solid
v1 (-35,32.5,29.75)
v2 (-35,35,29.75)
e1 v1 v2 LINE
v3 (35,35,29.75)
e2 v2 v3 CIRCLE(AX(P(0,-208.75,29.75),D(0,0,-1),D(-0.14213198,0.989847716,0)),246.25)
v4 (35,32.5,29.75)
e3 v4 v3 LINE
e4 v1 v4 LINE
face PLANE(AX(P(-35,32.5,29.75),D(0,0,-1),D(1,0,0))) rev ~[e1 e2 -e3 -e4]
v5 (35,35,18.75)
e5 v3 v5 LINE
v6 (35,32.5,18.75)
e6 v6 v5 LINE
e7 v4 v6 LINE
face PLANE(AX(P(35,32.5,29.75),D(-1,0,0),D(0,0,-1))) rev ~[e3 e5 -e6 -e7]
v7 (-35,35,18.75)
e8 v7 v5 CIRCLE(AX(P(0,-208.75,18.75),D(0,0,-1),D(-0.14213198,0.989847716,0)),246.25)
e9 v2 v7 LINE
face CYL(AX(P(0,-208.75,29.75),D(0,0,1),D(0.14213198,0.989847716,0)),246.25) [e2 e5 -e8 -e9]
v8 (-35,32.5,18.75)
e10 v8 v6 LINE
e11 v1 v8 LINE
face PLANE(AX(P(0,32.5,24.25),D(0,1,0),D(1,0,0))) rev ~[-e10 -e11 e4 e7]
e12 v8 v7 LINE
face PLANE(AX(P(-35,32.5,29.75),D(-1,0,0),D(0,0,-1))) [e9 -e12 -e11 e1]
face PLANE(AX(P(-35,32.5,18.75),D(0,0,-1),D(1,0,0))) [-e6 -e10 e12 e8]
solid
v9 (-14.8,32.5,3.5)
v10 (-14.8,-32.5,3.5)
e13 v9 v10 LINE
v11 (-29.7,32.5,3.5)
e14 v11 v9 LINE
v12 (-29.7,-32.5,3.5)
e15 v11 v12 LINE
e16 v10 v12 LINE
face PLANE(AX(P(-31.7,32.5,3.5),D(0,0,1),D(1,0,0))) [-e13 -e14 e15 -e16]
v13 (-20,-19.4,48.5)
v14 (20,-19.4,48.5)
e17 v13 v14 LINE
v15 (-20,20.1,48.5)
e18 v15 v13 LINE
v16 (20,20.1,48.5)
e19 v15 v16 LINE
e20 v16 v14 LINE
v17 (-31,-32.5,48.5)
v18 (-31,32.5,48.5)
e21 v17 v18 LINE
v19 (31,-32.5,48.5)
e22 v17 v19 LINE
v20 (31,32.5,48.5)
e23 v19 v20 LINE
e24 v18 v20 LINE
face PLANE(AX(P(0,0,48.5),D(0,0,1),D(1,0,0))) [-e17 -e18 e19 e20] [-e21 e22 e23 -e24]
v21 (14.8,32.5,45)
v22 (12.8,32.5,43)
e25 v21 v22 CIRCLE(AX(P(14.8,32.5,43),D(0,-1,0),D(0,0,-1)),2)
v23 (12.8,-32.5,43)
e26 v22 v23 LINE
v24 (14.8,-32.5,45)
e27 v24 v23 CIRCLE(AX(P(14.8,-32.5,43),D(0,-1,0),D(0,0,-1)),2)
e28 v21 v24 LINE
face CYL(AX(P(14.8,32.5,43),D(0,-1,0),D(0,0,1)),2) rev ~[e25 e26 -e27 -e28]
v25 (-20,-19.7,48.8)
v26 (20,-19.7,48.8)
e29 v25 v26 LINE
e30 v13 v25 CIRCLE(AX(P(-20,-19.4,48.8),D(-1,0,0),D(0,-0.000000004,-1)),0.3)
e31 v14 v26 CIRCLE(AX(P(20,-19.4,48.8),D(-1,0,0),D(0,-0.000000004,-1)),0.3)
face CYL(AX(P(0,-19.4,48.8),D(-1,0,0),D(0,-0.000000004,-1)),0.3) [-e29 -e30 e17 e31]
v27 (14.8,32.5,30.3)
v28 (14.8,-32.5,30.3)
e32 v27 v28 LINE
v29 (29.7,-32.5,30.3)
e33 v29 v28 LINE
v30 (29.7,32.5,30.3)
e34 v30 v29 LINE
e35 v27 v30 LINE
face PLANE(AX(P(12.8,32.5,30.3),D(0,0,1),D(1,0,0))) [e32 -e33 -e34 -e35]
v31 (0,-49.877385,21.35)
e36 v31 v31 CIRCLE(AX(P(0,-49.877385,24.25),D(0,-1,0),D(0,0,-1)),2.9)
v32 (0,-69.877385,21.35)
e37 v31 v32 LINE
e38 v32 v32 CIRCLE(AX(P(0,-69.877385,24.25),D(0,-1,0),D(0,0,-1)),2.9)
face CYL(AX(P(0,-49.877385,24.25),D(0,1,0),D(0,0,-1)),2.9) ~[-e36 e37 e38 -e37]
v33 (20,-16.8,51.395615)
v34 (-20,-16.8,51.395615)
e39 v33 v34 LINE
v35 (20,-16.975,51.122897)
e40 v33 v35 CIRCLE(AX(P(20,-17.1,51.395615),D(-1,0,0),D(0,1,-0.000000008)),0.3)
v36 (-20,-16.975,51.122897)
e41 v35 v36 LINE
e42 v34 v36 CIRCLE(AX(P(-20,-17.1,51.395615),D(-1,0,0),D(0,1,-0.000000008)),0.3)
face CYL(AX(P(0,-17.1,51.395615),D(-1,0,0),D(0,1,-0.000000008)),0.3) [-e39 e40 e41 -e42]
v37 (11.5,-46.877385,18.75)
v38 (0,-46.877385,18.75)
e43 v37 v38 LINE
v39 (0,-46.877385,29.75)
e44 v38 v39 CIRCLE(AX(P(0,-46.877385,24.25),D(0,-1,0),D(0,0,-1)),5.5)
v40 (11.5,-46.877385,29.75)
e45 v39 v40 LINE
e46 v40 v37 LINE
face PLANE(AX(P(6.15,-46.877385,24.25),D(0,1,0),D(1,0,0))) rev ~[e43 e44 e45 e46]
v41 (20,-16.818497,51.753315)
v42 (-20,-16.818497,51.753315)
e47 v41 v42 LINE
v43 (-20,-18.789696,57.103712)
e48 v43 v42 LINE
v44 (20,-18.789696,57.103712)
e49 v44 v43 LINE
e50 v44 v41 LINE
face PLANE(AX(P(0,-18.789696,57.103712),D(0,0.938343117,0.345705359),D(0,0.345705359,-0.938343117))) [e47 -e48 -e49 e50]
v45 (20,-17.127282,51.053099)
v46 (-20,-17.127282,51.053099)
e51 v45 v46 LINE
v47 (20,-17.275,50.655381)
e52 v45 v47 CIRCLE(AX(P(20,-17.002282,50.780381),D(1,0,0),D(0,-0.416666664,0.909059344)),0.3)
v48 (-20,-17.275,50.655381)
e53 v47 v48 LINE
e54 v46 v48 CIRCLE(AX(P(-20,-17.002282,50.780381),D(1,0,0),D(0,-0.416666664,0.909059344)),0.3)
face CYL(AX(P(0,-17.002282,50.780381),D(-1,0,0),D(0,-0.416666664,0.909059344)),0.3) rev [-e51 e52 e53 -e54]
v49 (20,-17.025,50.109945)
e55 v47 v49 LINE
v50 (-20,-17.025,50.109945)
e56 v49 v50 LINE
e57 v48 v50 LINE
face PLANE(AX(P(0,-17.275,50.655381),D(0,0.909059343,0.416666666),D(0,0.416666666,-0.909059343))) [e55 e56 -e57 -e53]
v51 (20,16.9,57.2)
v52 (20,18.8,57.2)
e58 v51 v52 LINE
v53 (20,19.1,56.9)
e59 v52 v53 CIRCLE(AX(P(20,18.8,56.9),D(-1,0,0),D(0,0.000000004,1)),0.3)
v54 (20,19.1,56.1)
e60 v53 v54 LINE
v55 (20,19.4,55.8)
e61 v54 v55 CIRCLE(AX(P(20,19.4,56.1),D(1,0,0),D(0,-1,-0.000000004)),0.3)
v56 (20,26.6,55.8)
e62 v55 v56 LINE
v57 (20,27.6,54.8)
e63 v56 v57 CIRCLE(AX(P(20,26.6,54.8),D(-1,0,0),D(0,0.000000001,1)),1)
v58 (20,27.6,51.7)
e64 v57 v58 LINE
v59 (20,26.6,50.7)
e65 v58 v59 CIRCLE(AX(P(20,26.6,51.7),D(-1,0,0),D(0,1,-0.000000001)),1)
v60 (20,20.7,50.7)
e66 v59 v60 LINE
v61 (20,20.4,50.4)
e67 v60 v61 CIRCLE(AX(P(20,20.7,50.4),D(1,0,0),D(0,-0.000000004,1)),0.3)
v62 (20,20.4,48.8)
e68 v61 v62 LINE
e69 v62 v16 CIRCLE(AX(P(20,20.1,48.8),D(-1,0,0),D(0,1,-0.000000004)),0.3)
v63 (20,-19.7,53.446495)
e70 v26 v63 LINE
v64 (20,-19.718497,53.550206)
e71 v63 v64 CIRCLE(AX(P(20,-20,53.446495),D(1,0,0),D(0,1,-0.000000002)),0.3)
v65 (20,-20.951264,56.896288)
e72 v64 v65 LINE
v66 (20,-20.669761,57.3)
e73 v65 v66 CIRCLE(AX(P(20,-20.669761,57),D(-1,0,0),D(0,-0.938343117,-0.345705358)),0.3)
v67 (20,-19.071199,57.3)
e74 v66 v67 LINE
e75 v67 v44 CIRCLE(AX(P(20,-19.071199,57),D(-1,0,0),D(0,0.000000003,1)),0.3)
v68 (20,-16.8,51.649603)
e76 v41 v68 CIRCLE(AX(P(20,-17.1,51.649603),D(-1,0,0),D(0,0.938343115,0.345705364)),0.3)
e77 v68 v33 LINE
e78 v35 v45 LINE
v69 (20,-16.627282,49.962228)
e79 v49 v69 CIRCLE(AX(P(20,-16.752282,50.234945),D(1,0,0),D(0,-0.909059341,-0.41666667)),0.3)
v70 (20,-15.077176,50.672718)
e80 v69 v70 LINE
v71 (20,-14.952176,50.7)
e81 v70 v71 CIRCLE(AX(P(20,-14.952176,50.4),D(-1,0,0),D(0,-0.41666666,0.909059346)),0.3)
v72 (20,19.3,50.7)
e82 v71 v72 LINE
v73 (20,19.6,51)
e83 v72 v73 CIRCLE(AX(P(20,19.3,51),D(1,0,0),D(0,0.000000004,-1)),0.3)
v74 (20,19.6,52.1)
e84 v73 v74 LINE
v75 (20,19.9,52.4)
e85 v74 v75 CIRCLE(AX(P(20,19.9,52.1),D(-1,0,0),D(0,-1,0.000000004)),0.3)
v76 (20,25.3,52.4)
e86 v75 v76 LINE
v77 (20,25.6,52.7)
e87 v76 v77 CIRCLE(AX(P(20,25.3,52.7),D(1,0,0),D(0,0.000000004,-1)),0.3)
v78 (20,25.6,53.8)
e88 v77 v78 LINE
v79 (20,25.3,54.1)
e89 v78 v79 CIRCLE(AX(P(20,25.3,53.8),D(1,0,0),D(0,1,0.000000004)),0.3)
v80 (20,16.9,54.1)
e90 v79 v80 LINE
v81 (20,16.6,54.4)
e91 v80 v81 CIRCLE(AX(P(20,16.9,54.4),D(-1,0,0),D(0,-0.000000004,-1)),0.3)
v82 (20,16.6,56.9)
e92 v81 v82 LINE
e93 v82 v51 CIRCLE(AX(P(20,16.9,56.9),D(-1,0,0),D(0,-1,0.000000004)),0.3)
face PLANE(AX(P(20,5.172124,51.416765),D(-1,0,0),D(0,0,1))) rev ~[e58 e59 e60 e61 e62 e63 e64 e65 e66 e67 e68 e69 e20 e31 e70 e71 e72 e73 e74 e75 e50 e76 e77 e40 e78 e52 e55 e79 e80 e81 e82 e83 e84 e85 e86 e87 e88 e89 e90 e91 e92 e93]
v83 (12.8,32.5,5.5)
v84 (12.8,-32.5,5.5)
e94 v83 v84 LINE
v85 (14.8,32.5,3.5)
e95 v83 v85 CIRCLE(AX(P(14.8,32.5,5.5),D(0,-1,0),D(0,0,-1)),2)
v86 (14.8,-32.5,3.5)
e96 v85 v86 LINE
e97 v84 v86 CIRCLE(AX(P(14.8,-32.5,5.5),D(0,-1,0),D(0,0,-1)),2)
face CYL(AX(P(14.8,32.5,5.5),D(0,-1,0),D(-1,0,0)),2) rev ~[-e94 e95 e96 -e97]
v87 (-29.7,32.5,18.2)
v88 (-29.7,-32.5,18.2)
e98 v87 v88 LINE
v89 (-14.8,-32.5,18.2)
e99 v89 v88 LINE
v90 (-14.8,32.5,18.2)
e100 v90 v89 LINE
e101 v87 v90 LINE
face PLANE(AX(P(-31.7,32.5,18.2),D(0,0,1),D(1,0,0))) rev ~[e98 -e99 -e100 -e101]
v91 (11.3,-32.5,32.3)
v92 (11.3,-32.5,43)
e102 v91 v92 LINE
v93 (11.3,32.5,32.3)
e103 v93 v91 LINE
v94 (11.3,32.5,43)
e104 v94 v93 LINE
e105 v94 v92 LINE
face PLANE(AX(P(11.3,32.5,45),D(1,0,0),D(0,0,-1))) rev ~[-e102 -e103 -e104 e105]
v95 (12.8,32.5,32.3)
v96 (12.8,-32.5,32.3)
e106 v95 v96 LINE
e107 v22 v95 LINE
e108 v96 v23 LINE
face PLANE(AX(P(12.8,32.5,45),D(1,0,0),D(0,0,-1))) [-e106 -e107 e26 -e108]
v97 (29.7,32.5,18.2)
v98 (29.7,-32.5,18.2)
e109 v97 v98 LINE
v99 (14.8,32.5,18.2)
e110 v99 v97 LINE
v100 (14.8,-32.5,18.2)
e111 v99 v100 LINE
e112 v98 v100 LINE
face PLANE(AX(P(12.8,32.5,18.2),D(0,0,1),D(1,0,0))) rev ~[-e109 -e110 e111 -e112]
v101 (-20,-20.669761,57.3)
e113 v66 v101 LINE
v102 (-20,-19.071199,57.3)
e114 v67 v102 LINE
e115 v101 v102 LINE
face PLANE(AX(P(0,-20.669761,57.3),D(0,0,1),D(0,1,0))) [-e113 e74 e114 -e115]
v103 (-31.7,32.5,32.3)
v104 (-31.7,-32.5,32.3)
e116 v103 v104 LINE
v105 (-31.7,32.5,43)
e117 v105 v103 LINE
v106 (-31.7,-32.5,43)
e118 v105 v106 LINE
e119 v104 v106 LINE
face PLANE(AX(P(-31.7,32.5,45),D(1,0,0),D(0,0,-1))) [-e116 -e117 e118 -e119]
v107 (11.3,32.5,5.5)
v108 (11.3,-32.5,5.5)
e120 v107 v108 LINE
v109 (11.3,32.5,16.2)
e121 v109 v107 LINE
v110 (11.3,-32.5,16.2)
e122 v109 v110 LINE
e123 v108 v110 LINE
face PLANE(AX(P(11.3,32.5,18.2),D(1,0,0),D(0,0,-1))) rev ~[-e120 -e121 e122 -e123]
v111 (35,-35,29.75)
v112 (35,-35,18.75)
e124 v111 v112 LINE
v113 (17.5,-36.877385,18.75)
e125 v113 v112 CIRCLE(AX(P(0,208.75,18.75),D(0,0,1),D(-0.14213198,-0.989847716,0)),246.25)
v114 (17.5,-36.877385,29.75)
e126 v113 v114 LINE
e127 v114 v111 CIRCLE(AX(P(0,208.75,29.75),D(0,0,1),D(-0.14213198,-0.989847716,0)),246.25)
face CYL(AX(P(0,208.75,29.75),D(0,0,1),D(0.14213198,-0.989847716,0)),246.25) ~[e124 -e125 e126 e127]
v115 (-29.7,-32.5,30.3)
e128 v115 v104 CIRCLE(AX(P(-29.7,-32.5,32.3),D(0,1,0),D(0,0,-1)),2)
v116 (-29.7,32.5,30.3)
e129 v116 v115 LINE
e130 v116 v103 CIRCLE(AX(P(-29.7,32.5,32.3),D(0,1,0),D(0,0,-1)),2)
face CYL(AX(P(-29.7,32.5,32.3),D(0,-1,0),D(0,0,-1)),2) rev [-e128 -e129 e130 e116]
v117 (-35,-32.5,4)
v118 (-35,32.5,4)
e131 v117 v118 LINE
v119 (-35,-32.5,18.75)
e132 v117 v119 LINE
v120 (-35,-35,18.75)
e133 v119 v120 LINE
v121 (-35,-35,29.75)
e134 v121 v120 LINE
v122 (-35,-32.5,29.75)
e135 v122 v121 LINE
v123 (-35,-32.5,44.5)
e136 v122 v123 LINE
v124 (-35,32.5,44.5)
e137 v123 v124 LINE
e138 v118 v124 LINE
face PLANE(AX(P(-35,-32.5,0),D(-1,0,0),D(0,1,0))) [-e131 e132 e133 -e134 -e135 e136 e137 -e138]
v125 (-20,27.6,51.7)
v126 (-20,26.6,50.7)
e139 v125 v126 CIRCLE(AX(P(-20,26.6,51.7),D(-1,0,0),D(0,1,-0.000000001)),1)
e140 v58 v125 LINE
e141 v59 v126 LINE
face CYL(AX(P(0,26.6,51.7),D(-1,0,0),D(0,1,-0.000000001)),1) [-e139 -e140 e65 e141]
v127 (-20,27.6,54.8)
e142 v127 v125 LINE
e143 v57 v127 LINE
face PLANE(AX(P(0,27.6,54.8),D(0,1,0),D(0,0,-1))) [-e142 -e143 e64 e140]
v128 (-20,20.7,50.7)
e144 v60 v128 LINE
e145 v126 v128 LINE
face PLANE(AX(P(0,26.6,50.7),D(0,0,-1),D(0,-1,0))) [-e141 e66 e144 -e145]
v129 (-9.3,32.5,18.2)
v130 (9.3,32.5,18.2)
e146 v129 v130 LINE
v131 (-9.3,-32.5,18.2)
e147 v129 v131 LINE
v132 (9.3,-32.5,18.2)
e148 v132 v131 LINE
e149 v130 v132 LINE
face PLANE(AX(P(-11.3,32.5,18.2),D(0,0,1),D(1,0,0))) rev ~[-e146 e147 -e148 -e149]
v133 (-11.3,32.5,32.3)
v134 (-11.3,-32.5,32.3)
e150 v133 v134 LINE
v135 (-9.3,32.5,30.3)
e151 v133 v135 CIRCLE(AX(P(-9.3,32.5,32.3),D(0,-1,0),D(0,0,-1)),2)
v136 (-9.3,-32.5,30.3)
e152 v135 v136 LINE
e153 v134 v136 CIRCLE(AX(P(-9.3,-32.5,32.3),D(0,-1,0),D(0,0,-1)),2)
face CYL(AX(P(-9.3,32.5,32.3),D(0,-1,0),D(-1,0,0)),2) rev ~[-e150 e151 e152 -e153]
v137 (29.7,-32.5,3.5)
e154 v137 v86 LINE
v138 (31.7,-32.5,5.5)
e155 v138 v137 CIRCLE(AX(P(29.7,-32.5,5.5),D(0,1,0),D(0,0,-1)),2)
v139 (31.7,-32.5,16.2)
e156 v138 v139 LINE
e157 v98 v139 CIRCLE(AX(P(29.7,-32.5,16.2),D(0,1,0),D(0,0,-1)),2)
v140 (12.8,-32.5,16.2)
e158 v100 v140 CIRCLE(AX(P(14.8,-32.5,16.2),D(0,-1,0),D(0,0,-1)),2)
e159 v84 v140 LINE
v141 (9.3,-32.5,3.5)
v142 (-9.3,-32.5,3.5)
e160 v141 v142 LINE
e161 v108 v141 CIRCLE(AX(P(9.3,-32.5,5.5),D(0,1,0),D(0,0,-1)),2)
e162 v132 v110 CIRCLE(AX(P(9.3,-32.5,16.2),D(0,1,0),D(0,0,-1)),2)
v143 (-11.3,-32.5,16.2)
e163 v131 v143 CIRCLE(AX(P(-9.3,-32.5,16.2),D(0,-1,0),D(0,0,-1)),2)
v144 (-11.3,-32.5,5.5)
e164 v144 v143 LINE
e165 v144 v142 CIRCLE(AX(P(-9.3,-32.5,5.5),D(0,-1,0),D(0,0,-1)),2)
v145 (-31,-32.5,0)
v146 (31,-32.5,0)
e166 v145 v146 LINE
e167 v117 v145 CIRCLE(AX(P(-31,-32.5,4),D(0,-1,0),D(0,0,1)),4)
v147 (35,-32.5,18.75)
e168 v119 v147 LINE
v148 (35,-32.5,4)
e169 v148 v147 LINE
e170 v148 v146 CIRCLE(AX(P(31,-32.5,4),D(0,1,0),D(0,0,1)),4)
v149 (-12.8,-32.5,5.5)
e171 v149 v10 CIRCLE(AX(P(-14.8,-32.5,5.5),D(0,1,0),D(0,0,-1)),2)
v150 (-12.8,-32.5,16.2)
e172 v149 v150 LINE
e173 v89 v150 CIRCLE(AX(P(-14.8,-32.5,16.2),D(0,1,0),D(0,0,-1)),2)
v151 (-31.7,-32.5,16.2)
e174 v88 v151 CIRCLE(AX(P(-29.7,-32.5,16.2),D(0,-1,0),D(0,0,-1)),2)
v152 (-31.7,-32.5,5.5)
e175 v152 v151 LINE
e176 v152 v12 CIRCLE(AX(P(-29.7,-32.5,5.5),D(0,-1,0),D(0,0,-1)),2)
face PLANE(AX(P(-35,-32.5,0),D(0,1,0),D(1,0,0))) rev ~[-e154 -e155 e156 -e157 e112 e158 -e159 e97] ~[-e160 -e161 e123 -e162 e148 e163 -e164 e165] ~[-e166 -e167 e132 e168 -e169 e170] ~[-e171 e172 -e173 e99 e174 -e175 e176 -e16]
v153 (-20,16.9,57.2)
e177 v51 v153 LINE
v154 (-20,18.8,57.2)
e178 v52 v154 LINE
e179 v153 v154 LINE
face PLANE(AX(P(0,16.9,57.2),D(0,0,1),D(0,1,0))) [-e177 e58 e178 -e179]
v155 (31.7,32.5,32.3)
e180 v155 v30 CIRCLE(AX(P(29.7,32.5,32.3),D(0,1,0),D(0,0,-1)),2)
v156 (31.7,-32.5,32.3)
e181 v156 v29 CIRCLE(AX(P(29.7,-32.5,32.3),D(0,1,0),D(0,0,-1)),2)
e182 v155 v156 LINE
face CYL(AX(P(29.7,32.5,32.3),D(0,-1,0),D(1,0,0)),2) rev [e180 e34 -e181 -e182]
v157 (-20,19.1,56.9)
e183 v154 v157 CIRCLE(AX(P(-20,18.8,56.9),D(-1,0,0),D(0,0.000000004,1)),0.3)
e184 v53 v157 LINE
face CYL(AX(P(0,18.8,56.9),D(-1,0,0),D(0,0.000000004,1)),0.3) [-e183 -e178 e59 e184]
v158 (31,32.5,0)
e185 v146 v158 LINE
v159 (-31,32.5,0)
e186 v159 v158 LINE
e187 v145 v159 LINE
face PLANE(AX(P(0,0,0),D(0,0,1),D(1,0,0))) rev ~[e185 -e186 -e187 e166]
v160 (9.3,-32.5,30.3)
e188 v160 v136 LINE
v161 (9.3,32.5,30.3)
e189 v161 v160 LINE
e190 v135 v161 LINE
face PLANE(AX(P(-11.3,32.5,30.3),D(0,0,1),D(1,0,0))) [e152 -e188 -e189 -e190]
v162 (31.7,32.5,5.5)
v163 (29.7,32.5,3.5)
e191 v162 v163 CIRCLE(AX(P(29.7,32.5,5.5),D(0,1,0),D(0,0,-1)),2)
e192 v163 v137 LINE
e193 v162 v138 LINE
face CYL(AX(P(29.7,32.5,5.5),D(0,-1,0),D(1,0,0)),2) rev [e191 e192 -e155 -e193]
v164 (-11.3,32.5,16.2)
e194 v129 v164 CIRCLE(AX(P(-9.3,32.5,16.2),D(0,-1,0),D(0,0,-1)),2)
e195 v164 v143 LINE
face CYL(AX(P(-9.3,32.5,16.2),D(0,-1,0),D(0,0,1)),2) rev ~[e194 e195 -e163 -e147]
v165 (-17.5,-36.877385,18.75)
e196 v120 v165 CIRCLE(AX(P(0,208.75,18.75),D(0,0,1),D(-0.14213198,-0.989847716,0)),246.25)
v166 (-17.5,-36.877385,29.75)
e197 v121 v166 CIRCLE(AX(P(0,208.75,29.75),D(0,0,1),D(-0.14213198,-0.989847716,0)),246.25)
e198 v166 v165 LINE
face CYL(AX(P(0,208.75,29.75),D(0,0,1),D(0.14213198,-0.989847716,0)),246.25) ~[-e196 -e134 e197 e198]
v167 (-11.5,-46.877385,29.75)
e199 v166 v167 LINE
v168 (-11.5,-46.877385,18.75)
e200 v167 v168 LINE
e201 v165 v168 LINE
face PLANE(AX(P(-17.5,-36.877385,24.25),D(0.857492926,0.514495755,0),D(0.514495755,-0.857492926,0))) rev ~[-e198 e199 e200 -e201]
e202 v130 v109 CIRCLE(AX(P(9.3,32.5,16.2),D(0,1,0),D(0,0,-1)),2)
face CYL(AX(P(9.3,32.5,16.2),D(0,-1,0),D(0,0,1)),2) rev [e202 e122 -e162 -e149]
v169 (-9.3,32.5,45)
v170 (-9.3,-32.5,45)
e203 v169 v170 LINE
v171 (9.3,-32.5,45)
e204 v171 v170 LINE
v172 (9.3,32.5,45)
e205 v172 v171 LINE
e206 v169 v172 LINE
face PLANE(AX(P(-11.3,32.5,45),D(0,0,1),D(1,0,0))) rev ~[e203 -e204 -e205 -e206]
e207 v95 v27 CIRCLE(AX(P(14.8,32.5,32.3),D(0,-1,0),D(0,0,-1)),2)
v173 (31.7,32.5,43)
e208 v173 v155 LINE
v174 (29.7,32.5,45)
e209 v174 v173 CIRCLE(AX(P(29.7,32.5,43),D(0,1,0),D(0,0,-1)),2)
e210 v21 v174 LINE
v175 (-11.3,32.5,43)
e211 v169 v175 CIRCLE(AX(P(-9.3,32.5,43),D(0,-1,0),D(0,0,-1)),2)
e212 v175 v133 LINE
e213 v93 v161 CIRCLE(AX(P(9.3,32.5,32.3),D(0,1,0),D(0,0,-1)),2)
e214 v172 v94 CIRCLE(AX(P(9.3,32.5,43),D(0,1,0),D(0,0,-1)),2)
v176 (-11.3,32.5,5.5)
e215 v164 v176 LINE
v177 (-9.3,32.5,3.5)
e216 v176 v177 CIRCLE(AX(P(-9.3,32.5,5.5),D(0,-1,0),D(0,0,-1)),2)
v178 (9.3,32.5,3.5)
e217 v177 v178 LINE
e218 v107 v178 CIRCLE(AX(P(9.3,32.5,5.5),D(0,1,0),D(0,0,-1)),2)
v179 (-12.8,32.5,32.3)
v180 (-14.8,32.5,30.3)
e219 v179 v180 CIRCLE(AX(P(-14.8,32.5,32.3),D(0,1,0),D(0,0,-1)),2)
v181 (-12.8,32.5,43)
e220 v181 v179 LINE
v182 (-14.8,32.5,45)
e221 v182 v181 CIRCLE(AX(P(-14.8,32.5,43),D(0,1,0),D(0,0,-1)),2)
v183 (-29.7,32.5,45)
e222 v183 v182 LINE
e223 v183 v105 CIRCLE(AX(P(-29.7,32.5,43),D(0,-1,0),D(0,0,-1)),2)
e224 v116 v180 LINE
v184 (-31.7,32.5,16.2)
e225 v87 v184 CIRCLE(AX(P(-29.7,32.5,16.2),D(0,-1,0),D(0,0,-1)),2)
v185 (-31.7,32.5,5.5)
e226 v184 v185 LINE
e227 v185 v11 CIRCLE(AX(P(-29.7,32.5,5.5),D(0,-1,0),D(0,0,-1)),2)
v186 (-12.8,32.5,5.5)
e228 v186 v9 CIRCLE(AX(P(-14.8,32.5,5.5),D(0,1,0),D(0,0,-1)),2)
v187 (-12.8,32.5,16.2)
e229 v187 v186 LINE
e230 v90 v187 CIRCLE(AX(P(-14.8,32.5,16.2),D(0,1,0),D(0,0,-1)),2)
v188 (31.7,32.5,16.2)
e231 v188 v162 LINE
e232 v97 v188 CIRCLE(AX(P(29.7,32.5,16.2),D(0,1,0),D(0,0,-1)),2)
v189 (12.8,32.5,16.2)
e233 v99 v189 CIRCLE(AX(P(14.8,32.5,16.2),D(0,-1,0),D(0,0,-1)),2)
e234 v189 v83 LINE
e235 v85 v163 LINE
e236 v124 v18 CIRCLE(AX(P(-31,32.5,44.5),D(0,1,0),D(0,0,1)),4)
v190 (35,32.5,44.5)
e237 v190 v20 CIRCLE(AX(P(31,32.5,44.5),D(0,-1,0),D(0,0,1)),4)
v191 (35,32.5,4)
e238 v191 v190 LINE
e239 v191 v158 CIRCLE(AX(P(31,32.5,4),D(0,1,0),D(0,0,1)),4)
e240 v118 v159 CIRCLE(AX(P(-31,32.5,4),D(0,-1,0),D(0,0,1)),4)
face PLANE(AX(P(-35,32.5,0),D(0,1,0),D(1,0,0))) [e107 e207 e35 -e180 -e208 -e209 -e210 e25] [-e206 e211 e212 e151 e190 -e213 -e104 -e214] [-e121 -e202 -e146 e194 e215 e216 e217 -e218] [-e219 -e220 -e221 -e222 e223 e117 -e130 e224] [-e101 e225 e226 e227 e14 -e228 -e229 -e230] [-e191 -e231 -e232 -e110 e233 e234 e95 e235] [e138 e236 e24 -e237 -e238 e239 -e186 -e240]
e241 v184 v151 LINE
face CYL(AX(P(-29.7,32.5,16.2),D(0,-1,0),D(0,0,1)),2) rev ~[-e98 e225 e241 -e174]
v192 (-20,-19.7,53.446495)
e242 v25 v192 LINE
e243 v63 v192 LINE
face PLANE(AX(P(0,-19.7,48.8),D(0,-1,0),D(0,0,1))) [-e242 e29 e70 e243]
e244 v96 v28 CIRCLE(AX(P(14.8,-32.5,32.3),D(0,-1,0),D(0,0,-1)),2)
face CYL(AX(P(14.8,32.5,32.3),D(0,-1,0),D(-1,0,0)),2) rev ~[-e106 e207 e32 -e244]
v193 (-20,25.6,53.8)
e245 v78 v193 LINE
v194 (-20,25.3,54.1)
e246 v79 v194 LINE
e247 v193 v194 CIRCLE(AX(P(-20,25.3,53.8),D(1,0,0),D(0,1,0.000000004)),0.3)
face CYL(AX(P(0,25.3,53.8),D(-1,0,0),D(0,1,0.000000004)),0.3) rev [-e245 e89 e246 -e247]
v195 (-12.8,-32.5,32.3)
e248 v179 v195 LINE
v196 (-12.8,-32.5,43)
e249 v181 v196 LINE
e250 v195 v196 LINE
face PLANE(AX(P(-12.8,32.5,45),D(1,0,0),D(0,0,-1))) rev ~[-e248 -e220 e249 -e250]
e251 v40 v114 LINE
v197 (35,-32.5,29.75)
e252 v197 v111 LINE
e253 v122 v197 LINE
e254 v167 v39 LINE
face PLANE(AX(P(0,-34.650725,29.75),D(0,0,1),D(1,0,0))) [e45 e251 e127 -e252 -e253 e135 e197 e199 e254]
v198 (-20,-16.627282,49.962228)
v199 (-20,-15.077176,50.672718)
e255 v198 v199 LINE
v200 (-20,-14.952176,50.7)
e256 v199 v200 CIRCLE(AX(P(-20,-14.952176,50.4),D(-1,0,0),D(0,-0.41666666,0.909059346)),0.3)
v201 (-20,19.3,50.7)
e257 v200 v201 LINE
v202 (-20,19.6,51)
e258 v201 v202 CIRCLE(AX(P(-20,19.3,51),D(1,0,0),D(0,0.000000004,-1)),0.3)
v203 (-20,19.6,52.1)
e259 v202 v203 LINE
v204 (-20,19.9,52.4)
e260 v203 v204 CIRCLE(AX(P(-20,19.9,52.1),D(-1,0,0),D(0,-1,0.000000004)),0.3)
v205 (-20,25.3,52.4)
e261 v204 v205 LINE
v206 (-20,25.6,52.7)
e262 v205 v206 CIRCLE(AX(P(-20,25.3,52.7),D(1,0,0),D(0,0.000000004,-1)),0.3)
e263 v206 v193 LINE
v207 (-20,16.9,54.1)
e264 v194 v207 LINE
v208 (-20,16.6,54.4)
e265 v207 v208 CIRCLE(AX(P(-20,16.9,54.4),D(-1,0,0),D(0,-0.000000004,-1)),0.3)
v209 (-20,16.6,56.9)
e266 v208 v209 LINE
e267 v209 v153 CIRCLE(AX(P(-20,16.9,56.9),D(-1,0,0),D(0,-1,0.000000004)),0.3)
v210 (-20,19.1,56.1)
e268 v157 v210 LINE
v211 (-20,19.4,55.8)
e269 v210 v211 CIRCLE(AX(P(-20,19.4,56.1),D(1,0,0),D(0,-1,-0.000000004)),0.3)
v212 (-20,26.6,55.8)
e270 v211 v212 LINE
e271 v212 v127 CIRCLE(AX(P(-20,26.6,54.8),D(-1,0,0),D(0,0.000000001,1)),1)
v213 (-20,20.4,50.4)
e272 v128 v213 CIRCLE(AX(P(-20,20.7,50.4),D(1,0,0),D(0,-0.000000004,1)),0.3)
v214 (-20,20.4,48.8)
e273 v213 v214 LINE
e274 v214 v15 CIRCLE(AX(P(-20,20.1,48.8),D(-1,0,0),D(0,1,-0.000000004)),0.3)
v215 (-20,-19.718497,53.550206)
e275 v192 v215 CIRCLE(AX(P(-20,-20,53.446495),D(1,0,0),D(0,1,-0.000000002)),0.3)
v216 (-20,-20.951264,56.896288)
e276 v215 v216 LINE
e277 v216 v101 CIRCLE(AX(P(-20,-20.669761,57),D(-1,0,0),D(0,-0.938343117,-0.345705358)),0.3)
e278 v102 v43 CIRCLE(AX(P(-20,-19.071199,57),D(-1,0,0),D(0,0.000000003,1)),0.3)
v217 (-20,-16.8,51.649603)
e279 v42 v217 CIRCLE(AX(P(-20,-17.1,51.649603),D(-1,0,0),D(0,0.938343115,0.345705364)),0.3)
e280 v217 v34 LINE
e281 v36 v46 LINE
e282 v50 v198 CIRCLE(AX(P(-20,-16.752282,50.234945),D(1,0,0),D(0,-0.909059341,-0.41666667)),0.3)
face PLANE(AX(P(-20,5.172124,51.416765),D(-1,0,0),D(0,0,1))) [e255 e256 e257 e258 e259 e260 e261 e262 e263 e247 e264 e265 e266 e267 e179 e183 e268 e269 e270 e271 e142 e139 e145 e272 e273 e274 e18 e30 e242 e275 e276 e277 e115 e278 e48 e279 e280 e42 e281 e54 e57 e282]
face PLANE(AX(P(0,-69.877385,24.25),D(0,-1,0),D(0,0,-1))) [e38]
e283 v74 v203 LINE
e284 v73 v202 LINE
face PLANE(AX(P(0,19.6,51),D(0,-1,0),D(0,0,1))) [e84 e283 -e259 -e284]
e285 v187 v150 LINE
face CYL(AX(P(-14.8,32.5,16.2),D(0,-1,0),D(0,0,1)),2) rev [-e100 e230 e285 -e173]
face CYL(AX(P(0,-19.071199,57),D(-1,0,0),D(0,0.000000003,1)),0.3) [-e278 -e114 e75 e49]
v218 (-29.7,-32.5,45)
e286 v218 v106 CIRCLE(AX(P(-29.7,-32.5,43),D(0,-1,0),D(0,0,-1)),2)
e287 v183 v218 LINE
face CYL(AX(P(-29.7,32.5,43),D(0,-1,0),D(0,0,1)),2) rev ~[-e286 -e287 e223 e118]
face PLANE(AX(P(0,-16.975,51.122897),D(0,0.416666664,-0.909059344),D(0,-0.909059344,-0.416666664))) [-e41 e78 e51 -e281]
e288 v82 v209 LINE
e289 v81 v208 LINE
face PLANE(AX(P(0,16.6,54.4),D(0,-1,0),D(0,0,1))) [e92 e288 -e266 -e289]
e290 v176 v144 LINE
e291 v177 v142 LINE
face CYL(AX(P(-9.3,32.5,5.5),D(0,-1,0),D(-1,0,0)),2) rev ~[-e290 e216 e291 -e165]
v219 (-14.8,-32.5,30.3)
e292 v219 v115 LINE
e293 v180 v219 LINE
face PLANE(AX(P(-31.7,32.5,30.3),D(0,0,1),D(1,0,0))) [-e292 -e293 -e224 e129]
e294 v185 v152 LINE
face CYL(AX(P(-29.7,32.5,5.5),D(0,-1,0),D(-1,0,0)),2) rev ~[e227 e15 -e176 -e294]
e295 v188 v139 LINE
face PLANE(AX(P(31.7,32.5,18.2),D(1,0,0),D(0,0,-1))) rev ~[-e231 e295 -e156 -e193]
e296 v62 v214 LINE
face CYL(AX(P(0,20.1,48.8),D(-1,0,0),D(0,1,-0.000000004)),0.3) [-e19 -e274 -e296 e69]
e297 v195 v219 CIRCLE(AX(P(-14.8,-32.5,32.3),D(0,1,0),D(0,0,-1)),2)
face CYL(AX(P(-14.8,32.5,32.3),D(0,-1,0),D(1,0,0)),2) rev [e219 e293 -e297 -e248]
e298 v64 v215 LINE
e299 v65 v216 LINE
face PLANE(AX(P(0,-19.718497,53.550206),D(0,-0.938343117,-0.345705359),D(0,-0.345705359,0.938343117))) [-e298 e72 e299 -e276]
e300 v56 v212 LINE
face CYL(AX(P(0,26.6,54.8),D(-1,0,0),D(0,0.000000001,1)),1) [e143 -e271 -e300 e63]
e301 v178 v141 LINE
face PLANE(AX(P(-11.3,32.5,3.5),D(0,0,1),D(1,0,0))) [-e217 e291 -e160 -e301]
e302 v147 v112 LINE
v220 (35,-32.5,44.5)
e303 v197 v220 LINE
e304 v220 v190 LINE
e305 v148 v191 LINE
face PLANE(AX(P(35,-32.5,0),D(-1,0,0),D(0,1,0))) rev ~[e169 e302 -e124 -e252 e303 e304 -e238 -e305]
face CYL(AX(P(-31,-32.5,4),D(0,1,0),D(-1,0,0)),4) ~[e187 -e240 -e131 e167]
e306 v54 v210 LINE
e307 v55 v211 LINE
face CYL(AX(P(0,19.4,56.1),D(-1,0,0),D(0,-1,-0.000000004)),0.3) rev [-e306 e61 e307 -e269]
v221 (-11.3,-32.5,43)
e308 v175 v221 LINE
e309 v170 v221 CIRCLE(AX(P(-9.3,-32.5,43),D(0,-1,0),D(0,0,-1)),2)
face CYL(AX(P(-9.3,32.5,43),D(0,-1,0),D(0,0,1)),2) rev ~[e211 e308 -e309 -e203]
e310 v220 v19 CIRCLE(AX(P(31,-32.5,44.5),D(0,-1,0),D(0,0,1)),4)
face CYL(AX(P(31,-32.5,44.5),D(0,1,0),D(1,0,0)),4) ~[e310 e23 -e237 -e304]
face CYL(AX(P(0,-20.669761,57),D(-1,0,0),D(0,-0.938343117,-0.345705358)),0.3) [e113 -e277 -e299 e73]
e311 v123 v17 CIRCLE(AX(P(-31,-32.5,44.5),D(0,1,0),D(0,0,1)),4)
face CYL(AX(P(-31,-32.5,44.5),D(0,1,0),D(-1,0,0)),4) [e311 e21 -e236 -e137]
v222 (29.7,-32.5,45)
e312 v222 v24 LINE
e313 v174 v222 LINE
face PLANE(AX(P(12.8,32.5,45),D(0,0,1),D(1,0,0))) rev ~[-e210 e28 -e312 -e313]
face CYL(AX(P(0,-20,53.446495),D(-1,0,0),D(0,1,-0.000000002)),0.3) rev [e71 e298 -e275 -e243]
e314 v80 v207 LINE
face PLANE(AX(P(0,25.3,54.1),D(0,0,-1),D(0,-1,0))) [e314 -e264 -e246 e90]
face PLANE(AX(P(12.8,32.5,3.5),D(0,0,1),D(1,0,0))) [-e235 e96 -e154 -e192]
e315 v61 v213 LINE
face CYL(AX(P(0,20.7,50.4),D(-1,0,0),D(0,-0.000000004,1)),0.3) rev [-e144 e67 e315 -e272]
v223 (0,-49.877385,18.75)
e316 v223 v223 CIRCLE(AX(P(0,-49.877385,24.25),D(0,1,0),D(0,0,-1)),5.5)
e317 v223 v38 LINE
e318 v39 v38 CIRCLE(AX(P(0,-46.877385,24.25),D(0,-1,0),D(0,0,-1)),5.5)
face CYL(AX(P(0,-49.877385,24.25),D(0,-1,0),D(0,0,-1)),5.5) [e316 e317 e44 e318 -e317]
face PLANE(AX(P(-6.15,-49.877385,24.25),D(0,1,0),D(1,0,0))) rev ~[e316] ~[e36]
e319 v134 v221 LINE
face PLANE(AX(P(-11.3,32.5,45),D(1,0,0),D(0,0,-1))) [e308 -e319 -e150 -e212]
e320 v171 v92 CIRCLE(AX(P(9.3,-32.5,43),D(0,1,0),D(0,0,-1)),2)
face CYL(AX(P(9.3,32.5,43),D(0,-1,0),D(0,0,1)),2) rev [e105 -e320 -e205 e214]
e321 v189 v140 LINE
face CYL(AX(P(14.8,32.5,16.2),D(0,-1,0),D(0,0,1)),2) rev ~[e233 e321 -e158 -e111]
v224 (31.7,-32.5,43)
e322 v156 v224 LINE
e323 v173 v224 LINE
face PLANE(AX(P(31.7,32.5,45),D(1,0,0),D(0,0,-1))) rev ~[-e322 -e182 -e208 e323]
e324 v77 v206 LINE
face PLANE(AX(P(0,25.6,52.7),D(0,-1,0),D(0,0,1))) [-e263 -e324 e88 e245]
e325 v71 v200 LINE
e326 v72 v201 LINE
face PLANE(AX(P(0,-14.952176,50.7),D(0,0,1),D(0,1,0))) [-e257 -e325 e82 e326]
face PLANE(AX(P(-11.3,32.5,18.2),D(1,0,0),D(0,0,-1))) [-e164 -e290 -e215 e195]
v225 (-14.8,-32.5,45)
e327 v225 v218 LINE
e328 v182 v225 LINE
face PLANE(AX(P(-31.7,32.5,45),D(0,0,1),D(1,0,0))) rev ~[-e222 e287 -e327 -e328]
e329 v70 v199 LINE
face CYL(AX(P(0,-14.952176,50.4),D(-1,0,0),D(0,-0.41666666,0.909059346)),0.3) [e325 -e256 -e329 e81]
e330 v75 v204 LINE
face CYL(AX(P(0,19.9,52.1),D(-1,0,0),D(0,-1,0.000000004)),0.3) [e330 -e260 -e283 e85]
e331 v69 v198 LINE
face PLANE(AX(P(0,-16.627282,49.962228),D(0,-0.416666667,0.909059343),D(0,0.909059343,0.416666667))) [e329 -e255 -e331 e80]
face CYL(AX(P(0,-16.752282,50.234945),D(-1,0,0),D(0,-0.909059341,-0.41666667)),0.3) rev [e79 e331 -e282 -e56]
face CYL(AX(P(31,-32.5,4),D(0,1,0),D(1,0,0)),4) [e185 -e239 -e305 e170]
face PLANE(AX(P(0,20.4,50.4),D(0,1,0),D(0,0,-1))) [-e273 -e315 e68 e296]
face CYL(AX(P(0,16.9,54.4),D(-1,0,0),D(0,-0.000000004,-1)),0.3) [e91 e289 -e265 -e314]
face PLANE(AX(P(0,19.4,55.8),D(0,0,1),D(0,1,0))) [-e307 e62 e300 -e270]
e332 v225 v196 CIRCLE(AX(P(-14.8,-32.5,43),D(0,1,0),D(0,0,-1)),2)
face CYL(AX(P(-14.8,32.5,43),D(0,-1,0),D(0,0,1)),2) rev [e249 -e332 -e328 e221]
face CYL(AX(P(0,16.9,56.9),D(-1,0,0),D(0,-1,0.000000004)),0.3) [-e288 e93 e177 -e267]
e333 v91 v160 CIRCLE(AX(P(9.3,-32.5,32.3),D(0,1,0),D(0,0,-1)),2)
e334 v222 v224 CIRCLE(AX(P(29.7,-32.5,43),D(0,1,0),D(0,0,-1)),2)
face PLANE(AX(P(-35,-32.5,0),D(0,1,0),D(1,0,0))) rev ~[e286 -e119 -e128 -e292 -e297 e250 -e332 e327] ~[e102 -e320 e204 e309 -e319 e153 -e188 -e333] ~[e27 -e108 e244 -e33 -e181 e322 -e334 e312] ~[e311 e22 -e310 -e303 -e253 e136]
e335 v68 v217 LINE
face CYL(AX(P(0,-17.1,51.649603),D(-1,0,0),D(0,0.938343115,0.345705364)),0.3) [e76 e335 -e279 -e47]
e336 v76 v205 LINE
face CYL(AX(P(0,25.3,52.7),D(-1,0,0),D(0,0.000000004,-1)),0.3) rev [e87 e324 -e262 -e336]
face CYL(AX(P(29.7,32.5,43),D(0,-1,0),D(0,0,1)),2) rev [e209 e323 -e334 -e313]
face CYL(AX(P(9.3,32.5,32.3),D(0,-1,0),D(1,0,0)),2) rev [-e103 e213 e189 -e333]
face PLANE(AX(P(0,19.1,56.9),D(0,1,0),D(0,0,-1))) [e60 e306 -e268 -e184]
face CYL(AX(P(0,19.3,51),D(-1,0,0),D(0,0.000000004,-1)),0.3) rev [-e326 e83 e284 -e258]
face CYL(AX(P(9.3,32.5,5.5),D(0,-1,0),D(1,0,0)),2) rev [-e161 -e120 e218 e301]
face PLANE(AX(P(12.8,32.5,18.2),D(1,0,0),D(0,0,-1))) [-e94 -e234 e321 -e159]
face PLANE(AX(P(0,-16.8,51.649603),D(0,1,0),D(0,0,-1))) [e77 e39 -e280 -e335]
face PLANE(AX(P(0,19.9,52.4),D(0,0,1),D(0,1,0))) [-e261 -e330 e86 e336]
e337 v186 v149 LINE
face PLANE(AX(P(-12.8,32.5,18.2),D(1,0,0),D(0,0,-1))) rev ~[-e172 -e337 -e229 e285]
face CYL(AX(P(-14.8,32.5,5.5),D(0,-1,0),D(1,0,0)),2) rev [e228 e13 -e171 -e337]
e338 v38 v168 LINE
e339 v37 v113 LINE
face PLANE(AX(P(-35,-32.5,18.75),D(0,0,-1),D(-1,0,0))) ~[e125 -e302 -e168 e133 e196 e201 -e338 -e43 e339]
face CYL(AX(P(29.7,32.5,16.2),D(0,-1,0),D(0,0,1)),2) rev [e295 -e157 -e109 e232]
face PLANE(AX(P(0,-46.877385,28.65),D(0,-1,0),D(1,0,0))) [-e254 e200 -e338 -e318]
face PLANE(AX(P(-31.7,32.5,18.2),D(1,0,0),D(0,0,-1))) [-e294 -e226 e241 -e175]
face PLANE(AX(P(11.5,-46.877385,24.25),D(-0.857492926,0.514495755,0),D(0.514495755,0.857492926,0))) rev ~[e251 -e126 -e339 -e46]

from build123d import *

# Parameters (mm, degrees)
SKETCH_1_W                  = 70
SKETCH_1_H                  = 65
EXTRUDE_1_DEPTH             = 48.5
CUT_EXTRUDE_1_REACH         = 67
SKETCH_2_W                  = 22.6
SKETCH_2_H                  = 14.7
SKETCH_2_W_2                = 18.9
SKETCH_3_W                  = 70
SKETCH_3_H                  = 11
EXTRUDE_2_DEPTH             = 5
CUT_EXTRUDE_4_DEPTH         = 11
EXTRUDE_3_REACH             = 26.25
EXTRUDE_3_DIRECTION_2_REACH = 26.25
EXTRUDE_6_DEPTH             = 20
FILLET_1_R                  = 4
FILLET_2_R                  = 2
SKETCH_13_OUTSIDE_W         = 97.154
SKETCH_13_OUTSIDE_H         = 84.454
SKETCH_13_OUTSIDE_R         = 5.5
CUT_EXTRUDE_8_DEPTH         = 3
SKETCH_14_R                 = 2.9
EXTRUDE_7_DEPTH             = 20


with BuildPart() as part:
    # Эскиз1 → Бобышка-Вытянуть1 (new body)
    with BuildSketch(Plane.XY):
        Rectangle(SKETCH_1_W, SKETCH_1_H)
    extrude(amount=EXTRUDE_1_DEPTH)

    # Эскиз2 → Вырез-Вытянуть1 (cut, up to next)
    with BuildSketch(Plane(origin=(0, 32.5, 0), x_dir=(1, 0, 0), z_dir=(0, 1, 0)), mode=Mode.PRIVATE) as cut_extrude_1_sk1:
        with Locations((0, -10.85)):
            Rectangle(SKETCH_2_W, SKETCH_2_H)
    cut_extrude_1_tool1 = extrude(cut_extrude_1_sk1.sketch, amount=-CUT_EXTRUDE_1_REACH, mode=Mode.PRIVATE) & part.part
    add(cut_extrude_1_tool1.solids().sort_by_distance((0, 32.5, 10.85))[0], mode=Mode.SUBTRACT)
    # Эскиз2 → Вырез-Вытянуть1 (cut, up to next)
    with BuildSketch(Plane(origin=(0, 32.5, 0), x_dir=(1, 0, 0), z_dir=(0, 1, 0)), mode=Mode.PRIVATE) as cut_extrude_1_sk2:
        with Locations((22.25, -10.85)):
            Rectangle(SKETCH_2_W_2, SKETCH_2_H)
    cut_extrude_1_tool2 = extrude(cut_extrude_1_sk2.sketch, amount=-CUT_EXTRUDE_1_REACH, mode=Mode.PRIVATE) & part.part
    add(cut_extrude_1_tool2.solids().sort_by_distance((22.25, 32.5, 10.85))[0], mode=Mode.SUBTRACT)
    # Эскиз2 → Вырез-Вытянуть1 (cut, up to next)
    with BuildSketch(Plane(origin=(0, 32.5, 0), x_dir=(1, 0, 0), z_dir=(0, 1, 0)), mode=Mode.PRIVATE) as cut_extrude_1_sk3:
        with Locations((-22.25, -10.85)):
            Rectangle(SKETCH_2_W_2, SKETCH_2_H)
    cut_extrude_1_tool3 = extrude(cut_extrude_1_sk3.sketch, amount=-CUT_EXTRUDE_1_REACH, mode=Mode.PRIVATE) & part.part
    add(cut_extrude_1_tool3.solids().sort_by_distance((-22.25, 32.5, 10.85))[0], mode=Mode.SUBTRACT)
    # Эскиз2 → Вырез-Вытянуть1 (cut, up to next)
    with BuildSketch(Plane(origin=(0, 32.5, 0), x_dir=(1, 0, 0), z_dir=(0, 1, 0)), mode=Mode.PRIVATE) as cut_extrude_1_sk4:
        with Locations((22.25, -37.65)):
            Rectangle(SKETCH_2_W_2, SKETCH_2_H)
    cut_extrude_1_tool4 = extrude(cut_extrude_1_sk4.sketch, amount=-CUT_EXTRUDE_1_REACH, mode=Mode.PRIVATE) & part.part
    add(cut_extrude_1_tool4.solids().sort_by_distance((22.25, 32.5, 37.65))[0], mode=Mode.SUBTRACT)
    # Эскиз2 → Вырез-Вытянуть1 (cut, up to next)
    with BuildSketch(Plane(origin=(0, 32.5, 0), x_dir=(1, 0, 0), z_dir=(0, 1, 0)), mode=Mode.PRIVATE) as cut_extrude_1_sk5:
        with Locations((0, -37.65)):
            Rectangle(SKETCH_2_W, SKETCH_2_H)
    cut_extrude_1_tool5 = extrude(cut_extrude_1_sk5.sketch, amount=-CUT_EXTRUDE_1_REACH, mode=Mode.PRIVATE) & part.part
    add(cut_extrude_1_tool5.solids().sort_by_distance((0, 32.5, 37.65))[0], mode=Mode.SUBTRACT)
    # Эскиз2 → Вырез-Вытянуть1 (cut, up to next)
    with BuildSketch(Plane(origin=(0, 32.5, 0), x_dir=(1, 0, 0), z_dir=(0, 1, 0)), mode=Mode.PRIVATE) as cut_extrude_1_sk6:
        with Locations((-22.25, -37.65)):
            Rectangle(SKETCH_2_W_2, SKETCH_2_H)
    cut_extrude_1_tool6 = extrude(cut_extrude_1_sk6.sketch, amount=-CUT_EXTRUDE_1_REACH, mode=Mode.PRIVATE) & part.part
    add(cut_extrude_1_tool6.solids().sort_by_distance((-22.25, 32.5, 37.65))[0], mode=Mode.SUBTRACT)


with BuildPart() as body_2:
    # Эскиз3 → Бобышка-Вытянуть2 (new body)
    with BuildSketch(Plane(origin=(0, 32.5, 0), x_dir=(1, 0, 0), z_dir=(0, 1, 0))):
        with Locations((0, -24.25)):
            Rectangle(SKETCH_3_W, SKETCH_3_H)
    extrude_2 = extrude(amount=EXTRUDE_2_DEPTH)

    # Эскиз4 → Вырез-Вытянуть4 (cut)
    with BuildSketch(Plane.XY.offset(29.75)):
        with BuildLine():
            Line((-35, 35), (-35, 41))
            Line((-35, 41), (35, 41))
            Line((35, 41), (35, 35))
            ThreePointArc((35, 35), (0, 37.5), (-35, 35))
        make_face()
    cut_extrude_4 = extrude(amount=-CUT_EXTRUDE_4_DEPTH, mode=Mode.SUBTRACT)


with BuildPart() as part_1:
    add(part.part)

    # Зеркальное отражение2: Бобышка-Вытянуть2, Вырез-Вытянуть4 across plane
    add(extrude_2.mirror(Plane.ZX))
    add(cut_extrude_4.mirror(Plane.ZX), mode=Mode.SUBTRACT)

    # Бобышка-Вытянуть3: up to this face of the body (flat: up to its plane)
    extrude_3_end = Plane(part_1.part.faces().sort_by_distance((0, -34.650725053, 18.75))[0])
    # Эскиз5 → Бобышка-Вытянуть3 (add, up to the picked face)
    with BuildSketch(Plane(origin=(0, 0, 24.25), x_dir=(-1, 0, 0), z_dir=(0, 0, -1)), mode=Mode.PRIVATE) as extrude_3_sk1:
        with BuildLine():
            Line((-11.5, -46.877385485), (-17.5, -36.877385485))
            ThreePointArc((-17.5, -36.877385485), (0, -37.5), (17.5, -36.877385485))
            Line((17.5, -36.877385485), (11.5, -46.877385485))
            Line((11.5, -46.877385485), (6.15, -46.877385485))
            Line((6.15, -46.877385485), (6.15, -49.877385485))
            Line((6.15, -49.877385485), (-6.15, -49.877385485))
            Line((-6.15, -49.877385485), (-6.15, -46.877385485))
            Line((-6.15, -46.877385485), (-11.5, -46.877385485))
        make_face()
    extrude_3_tool1 = split(extrude(extrude_3_sk1.sketch, amount=EXTRUDE_3_REACH, mode=Mode.PRIVATE), bisect_by=extrude_3_end, keep=Keep.BOTH, mode=Mode.PRIVATE)
    add(extrude_3_tool1.solids().sort_by(Axis((0, -42.546106, 24.25), (0, 0, -1)))[0])

    # Бобышка-Вытянуть3 direction 2: up to this face of the body (flat: up to its plane)
    extrude_3_direction_2_end = Plane(part_1.part.faces().sort_by_distance((0, -34.650725053, 29.75))[0])
    # Эскиз5 → Бобышка-Вытянуть3 direction 2 (add, up to the picked face)
    with BuildSketch(Plane(origin=(0, 0, 24.25), x_dir=(-1, 0, 0), z_dir=(0, 0, -1)), mode=Mode.PRIVATE) as extrude_3_direction_2_sk1:
        with BuildLine():
            Line((-11.5, -46.877385485), (-17.5, -36.877385485))
            ThreePointArc((-17.5, -36.877385485), (0, -37.5), (17.5, -36.877385485))
            Line((17.5, -36.877385485), (11.5, -46.877385485))
            Line((11.5, -46.877385485), (6.15, -46.877385485))
            Line((6.15, -46.877385485), (6.15, -49.877385485))
            Line((6.15, -49.877385485), (-6.15, -49.877385485))
            Line((-6.15, -49.877385485), (-6.15, -46.877385485))
            Line((-6.15, -46.877385485), (-11.5, -46.877385485))
        make_face()
    extrude_3_direction_2_tool1 = split(extrude(extrude_3_direction_2_sk1.sketch, amount=-EXTRUDE_3_DIRECTION_2_REACH, mode=Mode.PRIVATE), bisect_by=extrude_3_direction_2_end, keep=Keep.BOTH, mode=Mode.PRIVATE)
    add(extrude_3_direction_2_tool1.solids().sort_by(Axis((0, -42.546106, 24.25), (0, 0, 1)))[0])

    # Эскиз11 → Бобышка-Вытянуть6 (add, symmetric)
    with BuildSketch(Plane.ZY):
        with BuildLine():
            Line((48.8, -19.7), (53.446494712, -19.7))
            ThreePointArc((53.446494712, -19.7), (53.499168801, -19.704660466), (53.550206319, -19.718497065))
            Line((53.550206319, -19.718497065), (56.896288392, -20.951264145))
            ThreePointArc((56.896288392, -20.951264145), (57.171590381, -20.915844003), (57.3, -20.66976121))
            Line((57.3, -20.66976121), (57.3, -19.071198836))
            ThreePointArc((57.3, -19.071198836), (57.246082793, -18.899608455), (57.103711608, -18.789695901))
            Line((57.103711608, -18.789695901), (51.753314767, -16.818497065))
            ThreePointArc((51.753314767, -16.818497065), (51.702277249, -16.804660466), (51.649603159, -16.8))
            Line((51.649603159, -16.8), (51.395615132, -16.8))
            ThreePointArc((51.395615132, -16.8), (51.233596615, -16.847512377), (51.122897329, -16.975))
            Line((51.122897329, -16.975), (51.053098899, -17.127282197))
            ThreePointArc((51.053098899, -17.127282197), (50.884833356, -17.283511153), (50.655381096, -17.275))
            Line((50.655381096, -17.275), (50.10994549, -17.025))
            ThreePointArc((50.10994549, -17.025), (49.953716535, -16.856734457), (49.962227687, -16.627282197))
            Line((49.962227687, -16.627282197), (50.672717803, -15.077175771))
            ThreePointArc((50.672717803, -15.077175771), (50.693100103, -15.016147089), (50.7, -14.952175771))
            Line((50.7, -14.952175771), (50.7, 19.3))
            ThreePointArc((50.7, 19.3), (50.787867966, 19.512132034), (51, 19.6))
            Line((51, 19.6), (52.1, 19.6))
            ThreePointArc((52.1, 19.6), (52.312132034, 19.687867966), (52.4, 19.9))
            Line((52.4, 19.9), (52.4, 25.3))
            ThreePointArc((52.4, 25.3), (52.487867966, 25.512132034), (52.7, 25.6))
            Line((52.7, 25.6), (53.8, 25.6))
            ThreePointArc((53.8, 25.6), (54.012132034, 25.512132034), (54.1, 25.3))
            Line((54.1, 25.3), (54.1, 16.9))
            ThreePointArc((54.1, 16.9), (54.187867966, 16.687867966), (54.4, 16.6))
            Line((54.4, 16.6), (56.9, 16.6))
            ThreePointArc((56.9, 16.6), (57.112132034, 16.687867966), (57.2, 16.9))
            Line((57.2, 16.9), (57.2, 18.8))
            ThreePointArc((57.2, 18.8), (57.112132034, 19.012132034), (56.9, 19.1))
            Line((56.9, 19.1), (56.1, 19.1))
            ThreePointArc((56.1, 19.1), (55.887867966, 19.187867966), (55.8, 19.4))
            Line((55.8, 19.4), (55.8, 26.6))
            ThreePointArc((55.8, 26.6), (55.507106781, 27.307106781), (54.8, 27.6))
            Line((54.8, 27.6), (51.7, 27.6))
            ThreePointArc((51.7, 27.6), (50.992893219, 27.307106781), (50.7, 26.6))
            Line((50.7, 26.6), (50.7, 20.7))
            ThreePointArc((50.7, 20.7), (50.612132034, 20.487867966), (50.4, 20.4))
            Line((50.4, 20.4), (48.8, 20.4))
            ThreePointArc((48.8, 20.4), (48.587867966, 20.312132034), (48.5, 20.1))
            Line((48.5, 20.1), (48.5, -19.4))
            ThreePointArc((48.5, -19.4), (48.587867966, -19.612132034), (48.8, -19.7))
        make_face()
    extrude(amount=EXTRUDE_6_DEPTH, both=True)

    # Скругление1
    fillet_1_edges = [part_1.edges().sort_by_distance(p)[0] for p in [
        (-35, 0, 48.5),
        (35, 0, 48.5),
        (-35, 0, 0),
        (35, 0, 0),
    ]]
    fillet(fillet_1_edges, radius=FILLET_1_R)

    # Скругление2
    fillet_2_edges = [part_1.edges().sort_by_distance(p)[0] for p in [
        (31.7, 0, 3.5),
        (31.7, 0, 18.2),
        (12.8, 0, 18.2),
        (12.8, 0, 3.5),
        (-12.8, 0, 3.5),
        (-12.8, 0, 18.2),
        (-31.7, 0, 18.2),
        (-31.7, 0, 3.5),
        (12.8, 0, 45),
        (12.8, 0, 30.3),
        (31.7, 0, 30.3),
        (31.7, 0, 45),
        (-11.3, 0, 45),
        (-11.3, 0, 30.3),
        (11.3, 0, 30.3),
        (11.3, 0, 45),
        (-31.7, 0, 45),
        (-31.7, 0, 30.3),
        (-12.8, 0, 30.3),
        (-12.8, 0, 45),
        (11.3, 0, 3.5),
        (11.3, 0, 18.2),
        (-11.3, 0, 18.2),
        (-11.3, 0, 3.5),
    ]]
    fillet(fillet_2_edges, radius=FILLET_2_R)

    # Эскиз13 outside → Вырез-Вытянуть8 (cut)
    with BuildSketch(Plane.XZ.offset(49.877385485)):
        with Locations((0, 28.65)):
            Rectangle(SKETCH_13_OUTSIDE_W, SKETCH_13_OUTSIDE_H)
        with Locations(Location((0, 24.25, 0), (0, 0, 270))):  # turned: the seam where the file's is
            Circle(SKETCH_13_OUTSIDE_R, mode=Mode.SUBTRACT)
    extrude(amount=-CUT_EXTRUDE_8_DEPTH, mode=Mode.SUBTRACT)

    # Эскиз14 → Бобышка-Вытянуть7 (add)
    with BuildSketch(Plane.XZ.offset(49.877385485)):
        with Locations(Location((0, 24.25, 0), (0, 0, 270))):  # turned: the seam where the file's is
            Circle(SKETCH_14_R)
    extrude(amount=EXTRUDE_7_DEPTH)


solid = Compound([body_2.part, part_1.part])
